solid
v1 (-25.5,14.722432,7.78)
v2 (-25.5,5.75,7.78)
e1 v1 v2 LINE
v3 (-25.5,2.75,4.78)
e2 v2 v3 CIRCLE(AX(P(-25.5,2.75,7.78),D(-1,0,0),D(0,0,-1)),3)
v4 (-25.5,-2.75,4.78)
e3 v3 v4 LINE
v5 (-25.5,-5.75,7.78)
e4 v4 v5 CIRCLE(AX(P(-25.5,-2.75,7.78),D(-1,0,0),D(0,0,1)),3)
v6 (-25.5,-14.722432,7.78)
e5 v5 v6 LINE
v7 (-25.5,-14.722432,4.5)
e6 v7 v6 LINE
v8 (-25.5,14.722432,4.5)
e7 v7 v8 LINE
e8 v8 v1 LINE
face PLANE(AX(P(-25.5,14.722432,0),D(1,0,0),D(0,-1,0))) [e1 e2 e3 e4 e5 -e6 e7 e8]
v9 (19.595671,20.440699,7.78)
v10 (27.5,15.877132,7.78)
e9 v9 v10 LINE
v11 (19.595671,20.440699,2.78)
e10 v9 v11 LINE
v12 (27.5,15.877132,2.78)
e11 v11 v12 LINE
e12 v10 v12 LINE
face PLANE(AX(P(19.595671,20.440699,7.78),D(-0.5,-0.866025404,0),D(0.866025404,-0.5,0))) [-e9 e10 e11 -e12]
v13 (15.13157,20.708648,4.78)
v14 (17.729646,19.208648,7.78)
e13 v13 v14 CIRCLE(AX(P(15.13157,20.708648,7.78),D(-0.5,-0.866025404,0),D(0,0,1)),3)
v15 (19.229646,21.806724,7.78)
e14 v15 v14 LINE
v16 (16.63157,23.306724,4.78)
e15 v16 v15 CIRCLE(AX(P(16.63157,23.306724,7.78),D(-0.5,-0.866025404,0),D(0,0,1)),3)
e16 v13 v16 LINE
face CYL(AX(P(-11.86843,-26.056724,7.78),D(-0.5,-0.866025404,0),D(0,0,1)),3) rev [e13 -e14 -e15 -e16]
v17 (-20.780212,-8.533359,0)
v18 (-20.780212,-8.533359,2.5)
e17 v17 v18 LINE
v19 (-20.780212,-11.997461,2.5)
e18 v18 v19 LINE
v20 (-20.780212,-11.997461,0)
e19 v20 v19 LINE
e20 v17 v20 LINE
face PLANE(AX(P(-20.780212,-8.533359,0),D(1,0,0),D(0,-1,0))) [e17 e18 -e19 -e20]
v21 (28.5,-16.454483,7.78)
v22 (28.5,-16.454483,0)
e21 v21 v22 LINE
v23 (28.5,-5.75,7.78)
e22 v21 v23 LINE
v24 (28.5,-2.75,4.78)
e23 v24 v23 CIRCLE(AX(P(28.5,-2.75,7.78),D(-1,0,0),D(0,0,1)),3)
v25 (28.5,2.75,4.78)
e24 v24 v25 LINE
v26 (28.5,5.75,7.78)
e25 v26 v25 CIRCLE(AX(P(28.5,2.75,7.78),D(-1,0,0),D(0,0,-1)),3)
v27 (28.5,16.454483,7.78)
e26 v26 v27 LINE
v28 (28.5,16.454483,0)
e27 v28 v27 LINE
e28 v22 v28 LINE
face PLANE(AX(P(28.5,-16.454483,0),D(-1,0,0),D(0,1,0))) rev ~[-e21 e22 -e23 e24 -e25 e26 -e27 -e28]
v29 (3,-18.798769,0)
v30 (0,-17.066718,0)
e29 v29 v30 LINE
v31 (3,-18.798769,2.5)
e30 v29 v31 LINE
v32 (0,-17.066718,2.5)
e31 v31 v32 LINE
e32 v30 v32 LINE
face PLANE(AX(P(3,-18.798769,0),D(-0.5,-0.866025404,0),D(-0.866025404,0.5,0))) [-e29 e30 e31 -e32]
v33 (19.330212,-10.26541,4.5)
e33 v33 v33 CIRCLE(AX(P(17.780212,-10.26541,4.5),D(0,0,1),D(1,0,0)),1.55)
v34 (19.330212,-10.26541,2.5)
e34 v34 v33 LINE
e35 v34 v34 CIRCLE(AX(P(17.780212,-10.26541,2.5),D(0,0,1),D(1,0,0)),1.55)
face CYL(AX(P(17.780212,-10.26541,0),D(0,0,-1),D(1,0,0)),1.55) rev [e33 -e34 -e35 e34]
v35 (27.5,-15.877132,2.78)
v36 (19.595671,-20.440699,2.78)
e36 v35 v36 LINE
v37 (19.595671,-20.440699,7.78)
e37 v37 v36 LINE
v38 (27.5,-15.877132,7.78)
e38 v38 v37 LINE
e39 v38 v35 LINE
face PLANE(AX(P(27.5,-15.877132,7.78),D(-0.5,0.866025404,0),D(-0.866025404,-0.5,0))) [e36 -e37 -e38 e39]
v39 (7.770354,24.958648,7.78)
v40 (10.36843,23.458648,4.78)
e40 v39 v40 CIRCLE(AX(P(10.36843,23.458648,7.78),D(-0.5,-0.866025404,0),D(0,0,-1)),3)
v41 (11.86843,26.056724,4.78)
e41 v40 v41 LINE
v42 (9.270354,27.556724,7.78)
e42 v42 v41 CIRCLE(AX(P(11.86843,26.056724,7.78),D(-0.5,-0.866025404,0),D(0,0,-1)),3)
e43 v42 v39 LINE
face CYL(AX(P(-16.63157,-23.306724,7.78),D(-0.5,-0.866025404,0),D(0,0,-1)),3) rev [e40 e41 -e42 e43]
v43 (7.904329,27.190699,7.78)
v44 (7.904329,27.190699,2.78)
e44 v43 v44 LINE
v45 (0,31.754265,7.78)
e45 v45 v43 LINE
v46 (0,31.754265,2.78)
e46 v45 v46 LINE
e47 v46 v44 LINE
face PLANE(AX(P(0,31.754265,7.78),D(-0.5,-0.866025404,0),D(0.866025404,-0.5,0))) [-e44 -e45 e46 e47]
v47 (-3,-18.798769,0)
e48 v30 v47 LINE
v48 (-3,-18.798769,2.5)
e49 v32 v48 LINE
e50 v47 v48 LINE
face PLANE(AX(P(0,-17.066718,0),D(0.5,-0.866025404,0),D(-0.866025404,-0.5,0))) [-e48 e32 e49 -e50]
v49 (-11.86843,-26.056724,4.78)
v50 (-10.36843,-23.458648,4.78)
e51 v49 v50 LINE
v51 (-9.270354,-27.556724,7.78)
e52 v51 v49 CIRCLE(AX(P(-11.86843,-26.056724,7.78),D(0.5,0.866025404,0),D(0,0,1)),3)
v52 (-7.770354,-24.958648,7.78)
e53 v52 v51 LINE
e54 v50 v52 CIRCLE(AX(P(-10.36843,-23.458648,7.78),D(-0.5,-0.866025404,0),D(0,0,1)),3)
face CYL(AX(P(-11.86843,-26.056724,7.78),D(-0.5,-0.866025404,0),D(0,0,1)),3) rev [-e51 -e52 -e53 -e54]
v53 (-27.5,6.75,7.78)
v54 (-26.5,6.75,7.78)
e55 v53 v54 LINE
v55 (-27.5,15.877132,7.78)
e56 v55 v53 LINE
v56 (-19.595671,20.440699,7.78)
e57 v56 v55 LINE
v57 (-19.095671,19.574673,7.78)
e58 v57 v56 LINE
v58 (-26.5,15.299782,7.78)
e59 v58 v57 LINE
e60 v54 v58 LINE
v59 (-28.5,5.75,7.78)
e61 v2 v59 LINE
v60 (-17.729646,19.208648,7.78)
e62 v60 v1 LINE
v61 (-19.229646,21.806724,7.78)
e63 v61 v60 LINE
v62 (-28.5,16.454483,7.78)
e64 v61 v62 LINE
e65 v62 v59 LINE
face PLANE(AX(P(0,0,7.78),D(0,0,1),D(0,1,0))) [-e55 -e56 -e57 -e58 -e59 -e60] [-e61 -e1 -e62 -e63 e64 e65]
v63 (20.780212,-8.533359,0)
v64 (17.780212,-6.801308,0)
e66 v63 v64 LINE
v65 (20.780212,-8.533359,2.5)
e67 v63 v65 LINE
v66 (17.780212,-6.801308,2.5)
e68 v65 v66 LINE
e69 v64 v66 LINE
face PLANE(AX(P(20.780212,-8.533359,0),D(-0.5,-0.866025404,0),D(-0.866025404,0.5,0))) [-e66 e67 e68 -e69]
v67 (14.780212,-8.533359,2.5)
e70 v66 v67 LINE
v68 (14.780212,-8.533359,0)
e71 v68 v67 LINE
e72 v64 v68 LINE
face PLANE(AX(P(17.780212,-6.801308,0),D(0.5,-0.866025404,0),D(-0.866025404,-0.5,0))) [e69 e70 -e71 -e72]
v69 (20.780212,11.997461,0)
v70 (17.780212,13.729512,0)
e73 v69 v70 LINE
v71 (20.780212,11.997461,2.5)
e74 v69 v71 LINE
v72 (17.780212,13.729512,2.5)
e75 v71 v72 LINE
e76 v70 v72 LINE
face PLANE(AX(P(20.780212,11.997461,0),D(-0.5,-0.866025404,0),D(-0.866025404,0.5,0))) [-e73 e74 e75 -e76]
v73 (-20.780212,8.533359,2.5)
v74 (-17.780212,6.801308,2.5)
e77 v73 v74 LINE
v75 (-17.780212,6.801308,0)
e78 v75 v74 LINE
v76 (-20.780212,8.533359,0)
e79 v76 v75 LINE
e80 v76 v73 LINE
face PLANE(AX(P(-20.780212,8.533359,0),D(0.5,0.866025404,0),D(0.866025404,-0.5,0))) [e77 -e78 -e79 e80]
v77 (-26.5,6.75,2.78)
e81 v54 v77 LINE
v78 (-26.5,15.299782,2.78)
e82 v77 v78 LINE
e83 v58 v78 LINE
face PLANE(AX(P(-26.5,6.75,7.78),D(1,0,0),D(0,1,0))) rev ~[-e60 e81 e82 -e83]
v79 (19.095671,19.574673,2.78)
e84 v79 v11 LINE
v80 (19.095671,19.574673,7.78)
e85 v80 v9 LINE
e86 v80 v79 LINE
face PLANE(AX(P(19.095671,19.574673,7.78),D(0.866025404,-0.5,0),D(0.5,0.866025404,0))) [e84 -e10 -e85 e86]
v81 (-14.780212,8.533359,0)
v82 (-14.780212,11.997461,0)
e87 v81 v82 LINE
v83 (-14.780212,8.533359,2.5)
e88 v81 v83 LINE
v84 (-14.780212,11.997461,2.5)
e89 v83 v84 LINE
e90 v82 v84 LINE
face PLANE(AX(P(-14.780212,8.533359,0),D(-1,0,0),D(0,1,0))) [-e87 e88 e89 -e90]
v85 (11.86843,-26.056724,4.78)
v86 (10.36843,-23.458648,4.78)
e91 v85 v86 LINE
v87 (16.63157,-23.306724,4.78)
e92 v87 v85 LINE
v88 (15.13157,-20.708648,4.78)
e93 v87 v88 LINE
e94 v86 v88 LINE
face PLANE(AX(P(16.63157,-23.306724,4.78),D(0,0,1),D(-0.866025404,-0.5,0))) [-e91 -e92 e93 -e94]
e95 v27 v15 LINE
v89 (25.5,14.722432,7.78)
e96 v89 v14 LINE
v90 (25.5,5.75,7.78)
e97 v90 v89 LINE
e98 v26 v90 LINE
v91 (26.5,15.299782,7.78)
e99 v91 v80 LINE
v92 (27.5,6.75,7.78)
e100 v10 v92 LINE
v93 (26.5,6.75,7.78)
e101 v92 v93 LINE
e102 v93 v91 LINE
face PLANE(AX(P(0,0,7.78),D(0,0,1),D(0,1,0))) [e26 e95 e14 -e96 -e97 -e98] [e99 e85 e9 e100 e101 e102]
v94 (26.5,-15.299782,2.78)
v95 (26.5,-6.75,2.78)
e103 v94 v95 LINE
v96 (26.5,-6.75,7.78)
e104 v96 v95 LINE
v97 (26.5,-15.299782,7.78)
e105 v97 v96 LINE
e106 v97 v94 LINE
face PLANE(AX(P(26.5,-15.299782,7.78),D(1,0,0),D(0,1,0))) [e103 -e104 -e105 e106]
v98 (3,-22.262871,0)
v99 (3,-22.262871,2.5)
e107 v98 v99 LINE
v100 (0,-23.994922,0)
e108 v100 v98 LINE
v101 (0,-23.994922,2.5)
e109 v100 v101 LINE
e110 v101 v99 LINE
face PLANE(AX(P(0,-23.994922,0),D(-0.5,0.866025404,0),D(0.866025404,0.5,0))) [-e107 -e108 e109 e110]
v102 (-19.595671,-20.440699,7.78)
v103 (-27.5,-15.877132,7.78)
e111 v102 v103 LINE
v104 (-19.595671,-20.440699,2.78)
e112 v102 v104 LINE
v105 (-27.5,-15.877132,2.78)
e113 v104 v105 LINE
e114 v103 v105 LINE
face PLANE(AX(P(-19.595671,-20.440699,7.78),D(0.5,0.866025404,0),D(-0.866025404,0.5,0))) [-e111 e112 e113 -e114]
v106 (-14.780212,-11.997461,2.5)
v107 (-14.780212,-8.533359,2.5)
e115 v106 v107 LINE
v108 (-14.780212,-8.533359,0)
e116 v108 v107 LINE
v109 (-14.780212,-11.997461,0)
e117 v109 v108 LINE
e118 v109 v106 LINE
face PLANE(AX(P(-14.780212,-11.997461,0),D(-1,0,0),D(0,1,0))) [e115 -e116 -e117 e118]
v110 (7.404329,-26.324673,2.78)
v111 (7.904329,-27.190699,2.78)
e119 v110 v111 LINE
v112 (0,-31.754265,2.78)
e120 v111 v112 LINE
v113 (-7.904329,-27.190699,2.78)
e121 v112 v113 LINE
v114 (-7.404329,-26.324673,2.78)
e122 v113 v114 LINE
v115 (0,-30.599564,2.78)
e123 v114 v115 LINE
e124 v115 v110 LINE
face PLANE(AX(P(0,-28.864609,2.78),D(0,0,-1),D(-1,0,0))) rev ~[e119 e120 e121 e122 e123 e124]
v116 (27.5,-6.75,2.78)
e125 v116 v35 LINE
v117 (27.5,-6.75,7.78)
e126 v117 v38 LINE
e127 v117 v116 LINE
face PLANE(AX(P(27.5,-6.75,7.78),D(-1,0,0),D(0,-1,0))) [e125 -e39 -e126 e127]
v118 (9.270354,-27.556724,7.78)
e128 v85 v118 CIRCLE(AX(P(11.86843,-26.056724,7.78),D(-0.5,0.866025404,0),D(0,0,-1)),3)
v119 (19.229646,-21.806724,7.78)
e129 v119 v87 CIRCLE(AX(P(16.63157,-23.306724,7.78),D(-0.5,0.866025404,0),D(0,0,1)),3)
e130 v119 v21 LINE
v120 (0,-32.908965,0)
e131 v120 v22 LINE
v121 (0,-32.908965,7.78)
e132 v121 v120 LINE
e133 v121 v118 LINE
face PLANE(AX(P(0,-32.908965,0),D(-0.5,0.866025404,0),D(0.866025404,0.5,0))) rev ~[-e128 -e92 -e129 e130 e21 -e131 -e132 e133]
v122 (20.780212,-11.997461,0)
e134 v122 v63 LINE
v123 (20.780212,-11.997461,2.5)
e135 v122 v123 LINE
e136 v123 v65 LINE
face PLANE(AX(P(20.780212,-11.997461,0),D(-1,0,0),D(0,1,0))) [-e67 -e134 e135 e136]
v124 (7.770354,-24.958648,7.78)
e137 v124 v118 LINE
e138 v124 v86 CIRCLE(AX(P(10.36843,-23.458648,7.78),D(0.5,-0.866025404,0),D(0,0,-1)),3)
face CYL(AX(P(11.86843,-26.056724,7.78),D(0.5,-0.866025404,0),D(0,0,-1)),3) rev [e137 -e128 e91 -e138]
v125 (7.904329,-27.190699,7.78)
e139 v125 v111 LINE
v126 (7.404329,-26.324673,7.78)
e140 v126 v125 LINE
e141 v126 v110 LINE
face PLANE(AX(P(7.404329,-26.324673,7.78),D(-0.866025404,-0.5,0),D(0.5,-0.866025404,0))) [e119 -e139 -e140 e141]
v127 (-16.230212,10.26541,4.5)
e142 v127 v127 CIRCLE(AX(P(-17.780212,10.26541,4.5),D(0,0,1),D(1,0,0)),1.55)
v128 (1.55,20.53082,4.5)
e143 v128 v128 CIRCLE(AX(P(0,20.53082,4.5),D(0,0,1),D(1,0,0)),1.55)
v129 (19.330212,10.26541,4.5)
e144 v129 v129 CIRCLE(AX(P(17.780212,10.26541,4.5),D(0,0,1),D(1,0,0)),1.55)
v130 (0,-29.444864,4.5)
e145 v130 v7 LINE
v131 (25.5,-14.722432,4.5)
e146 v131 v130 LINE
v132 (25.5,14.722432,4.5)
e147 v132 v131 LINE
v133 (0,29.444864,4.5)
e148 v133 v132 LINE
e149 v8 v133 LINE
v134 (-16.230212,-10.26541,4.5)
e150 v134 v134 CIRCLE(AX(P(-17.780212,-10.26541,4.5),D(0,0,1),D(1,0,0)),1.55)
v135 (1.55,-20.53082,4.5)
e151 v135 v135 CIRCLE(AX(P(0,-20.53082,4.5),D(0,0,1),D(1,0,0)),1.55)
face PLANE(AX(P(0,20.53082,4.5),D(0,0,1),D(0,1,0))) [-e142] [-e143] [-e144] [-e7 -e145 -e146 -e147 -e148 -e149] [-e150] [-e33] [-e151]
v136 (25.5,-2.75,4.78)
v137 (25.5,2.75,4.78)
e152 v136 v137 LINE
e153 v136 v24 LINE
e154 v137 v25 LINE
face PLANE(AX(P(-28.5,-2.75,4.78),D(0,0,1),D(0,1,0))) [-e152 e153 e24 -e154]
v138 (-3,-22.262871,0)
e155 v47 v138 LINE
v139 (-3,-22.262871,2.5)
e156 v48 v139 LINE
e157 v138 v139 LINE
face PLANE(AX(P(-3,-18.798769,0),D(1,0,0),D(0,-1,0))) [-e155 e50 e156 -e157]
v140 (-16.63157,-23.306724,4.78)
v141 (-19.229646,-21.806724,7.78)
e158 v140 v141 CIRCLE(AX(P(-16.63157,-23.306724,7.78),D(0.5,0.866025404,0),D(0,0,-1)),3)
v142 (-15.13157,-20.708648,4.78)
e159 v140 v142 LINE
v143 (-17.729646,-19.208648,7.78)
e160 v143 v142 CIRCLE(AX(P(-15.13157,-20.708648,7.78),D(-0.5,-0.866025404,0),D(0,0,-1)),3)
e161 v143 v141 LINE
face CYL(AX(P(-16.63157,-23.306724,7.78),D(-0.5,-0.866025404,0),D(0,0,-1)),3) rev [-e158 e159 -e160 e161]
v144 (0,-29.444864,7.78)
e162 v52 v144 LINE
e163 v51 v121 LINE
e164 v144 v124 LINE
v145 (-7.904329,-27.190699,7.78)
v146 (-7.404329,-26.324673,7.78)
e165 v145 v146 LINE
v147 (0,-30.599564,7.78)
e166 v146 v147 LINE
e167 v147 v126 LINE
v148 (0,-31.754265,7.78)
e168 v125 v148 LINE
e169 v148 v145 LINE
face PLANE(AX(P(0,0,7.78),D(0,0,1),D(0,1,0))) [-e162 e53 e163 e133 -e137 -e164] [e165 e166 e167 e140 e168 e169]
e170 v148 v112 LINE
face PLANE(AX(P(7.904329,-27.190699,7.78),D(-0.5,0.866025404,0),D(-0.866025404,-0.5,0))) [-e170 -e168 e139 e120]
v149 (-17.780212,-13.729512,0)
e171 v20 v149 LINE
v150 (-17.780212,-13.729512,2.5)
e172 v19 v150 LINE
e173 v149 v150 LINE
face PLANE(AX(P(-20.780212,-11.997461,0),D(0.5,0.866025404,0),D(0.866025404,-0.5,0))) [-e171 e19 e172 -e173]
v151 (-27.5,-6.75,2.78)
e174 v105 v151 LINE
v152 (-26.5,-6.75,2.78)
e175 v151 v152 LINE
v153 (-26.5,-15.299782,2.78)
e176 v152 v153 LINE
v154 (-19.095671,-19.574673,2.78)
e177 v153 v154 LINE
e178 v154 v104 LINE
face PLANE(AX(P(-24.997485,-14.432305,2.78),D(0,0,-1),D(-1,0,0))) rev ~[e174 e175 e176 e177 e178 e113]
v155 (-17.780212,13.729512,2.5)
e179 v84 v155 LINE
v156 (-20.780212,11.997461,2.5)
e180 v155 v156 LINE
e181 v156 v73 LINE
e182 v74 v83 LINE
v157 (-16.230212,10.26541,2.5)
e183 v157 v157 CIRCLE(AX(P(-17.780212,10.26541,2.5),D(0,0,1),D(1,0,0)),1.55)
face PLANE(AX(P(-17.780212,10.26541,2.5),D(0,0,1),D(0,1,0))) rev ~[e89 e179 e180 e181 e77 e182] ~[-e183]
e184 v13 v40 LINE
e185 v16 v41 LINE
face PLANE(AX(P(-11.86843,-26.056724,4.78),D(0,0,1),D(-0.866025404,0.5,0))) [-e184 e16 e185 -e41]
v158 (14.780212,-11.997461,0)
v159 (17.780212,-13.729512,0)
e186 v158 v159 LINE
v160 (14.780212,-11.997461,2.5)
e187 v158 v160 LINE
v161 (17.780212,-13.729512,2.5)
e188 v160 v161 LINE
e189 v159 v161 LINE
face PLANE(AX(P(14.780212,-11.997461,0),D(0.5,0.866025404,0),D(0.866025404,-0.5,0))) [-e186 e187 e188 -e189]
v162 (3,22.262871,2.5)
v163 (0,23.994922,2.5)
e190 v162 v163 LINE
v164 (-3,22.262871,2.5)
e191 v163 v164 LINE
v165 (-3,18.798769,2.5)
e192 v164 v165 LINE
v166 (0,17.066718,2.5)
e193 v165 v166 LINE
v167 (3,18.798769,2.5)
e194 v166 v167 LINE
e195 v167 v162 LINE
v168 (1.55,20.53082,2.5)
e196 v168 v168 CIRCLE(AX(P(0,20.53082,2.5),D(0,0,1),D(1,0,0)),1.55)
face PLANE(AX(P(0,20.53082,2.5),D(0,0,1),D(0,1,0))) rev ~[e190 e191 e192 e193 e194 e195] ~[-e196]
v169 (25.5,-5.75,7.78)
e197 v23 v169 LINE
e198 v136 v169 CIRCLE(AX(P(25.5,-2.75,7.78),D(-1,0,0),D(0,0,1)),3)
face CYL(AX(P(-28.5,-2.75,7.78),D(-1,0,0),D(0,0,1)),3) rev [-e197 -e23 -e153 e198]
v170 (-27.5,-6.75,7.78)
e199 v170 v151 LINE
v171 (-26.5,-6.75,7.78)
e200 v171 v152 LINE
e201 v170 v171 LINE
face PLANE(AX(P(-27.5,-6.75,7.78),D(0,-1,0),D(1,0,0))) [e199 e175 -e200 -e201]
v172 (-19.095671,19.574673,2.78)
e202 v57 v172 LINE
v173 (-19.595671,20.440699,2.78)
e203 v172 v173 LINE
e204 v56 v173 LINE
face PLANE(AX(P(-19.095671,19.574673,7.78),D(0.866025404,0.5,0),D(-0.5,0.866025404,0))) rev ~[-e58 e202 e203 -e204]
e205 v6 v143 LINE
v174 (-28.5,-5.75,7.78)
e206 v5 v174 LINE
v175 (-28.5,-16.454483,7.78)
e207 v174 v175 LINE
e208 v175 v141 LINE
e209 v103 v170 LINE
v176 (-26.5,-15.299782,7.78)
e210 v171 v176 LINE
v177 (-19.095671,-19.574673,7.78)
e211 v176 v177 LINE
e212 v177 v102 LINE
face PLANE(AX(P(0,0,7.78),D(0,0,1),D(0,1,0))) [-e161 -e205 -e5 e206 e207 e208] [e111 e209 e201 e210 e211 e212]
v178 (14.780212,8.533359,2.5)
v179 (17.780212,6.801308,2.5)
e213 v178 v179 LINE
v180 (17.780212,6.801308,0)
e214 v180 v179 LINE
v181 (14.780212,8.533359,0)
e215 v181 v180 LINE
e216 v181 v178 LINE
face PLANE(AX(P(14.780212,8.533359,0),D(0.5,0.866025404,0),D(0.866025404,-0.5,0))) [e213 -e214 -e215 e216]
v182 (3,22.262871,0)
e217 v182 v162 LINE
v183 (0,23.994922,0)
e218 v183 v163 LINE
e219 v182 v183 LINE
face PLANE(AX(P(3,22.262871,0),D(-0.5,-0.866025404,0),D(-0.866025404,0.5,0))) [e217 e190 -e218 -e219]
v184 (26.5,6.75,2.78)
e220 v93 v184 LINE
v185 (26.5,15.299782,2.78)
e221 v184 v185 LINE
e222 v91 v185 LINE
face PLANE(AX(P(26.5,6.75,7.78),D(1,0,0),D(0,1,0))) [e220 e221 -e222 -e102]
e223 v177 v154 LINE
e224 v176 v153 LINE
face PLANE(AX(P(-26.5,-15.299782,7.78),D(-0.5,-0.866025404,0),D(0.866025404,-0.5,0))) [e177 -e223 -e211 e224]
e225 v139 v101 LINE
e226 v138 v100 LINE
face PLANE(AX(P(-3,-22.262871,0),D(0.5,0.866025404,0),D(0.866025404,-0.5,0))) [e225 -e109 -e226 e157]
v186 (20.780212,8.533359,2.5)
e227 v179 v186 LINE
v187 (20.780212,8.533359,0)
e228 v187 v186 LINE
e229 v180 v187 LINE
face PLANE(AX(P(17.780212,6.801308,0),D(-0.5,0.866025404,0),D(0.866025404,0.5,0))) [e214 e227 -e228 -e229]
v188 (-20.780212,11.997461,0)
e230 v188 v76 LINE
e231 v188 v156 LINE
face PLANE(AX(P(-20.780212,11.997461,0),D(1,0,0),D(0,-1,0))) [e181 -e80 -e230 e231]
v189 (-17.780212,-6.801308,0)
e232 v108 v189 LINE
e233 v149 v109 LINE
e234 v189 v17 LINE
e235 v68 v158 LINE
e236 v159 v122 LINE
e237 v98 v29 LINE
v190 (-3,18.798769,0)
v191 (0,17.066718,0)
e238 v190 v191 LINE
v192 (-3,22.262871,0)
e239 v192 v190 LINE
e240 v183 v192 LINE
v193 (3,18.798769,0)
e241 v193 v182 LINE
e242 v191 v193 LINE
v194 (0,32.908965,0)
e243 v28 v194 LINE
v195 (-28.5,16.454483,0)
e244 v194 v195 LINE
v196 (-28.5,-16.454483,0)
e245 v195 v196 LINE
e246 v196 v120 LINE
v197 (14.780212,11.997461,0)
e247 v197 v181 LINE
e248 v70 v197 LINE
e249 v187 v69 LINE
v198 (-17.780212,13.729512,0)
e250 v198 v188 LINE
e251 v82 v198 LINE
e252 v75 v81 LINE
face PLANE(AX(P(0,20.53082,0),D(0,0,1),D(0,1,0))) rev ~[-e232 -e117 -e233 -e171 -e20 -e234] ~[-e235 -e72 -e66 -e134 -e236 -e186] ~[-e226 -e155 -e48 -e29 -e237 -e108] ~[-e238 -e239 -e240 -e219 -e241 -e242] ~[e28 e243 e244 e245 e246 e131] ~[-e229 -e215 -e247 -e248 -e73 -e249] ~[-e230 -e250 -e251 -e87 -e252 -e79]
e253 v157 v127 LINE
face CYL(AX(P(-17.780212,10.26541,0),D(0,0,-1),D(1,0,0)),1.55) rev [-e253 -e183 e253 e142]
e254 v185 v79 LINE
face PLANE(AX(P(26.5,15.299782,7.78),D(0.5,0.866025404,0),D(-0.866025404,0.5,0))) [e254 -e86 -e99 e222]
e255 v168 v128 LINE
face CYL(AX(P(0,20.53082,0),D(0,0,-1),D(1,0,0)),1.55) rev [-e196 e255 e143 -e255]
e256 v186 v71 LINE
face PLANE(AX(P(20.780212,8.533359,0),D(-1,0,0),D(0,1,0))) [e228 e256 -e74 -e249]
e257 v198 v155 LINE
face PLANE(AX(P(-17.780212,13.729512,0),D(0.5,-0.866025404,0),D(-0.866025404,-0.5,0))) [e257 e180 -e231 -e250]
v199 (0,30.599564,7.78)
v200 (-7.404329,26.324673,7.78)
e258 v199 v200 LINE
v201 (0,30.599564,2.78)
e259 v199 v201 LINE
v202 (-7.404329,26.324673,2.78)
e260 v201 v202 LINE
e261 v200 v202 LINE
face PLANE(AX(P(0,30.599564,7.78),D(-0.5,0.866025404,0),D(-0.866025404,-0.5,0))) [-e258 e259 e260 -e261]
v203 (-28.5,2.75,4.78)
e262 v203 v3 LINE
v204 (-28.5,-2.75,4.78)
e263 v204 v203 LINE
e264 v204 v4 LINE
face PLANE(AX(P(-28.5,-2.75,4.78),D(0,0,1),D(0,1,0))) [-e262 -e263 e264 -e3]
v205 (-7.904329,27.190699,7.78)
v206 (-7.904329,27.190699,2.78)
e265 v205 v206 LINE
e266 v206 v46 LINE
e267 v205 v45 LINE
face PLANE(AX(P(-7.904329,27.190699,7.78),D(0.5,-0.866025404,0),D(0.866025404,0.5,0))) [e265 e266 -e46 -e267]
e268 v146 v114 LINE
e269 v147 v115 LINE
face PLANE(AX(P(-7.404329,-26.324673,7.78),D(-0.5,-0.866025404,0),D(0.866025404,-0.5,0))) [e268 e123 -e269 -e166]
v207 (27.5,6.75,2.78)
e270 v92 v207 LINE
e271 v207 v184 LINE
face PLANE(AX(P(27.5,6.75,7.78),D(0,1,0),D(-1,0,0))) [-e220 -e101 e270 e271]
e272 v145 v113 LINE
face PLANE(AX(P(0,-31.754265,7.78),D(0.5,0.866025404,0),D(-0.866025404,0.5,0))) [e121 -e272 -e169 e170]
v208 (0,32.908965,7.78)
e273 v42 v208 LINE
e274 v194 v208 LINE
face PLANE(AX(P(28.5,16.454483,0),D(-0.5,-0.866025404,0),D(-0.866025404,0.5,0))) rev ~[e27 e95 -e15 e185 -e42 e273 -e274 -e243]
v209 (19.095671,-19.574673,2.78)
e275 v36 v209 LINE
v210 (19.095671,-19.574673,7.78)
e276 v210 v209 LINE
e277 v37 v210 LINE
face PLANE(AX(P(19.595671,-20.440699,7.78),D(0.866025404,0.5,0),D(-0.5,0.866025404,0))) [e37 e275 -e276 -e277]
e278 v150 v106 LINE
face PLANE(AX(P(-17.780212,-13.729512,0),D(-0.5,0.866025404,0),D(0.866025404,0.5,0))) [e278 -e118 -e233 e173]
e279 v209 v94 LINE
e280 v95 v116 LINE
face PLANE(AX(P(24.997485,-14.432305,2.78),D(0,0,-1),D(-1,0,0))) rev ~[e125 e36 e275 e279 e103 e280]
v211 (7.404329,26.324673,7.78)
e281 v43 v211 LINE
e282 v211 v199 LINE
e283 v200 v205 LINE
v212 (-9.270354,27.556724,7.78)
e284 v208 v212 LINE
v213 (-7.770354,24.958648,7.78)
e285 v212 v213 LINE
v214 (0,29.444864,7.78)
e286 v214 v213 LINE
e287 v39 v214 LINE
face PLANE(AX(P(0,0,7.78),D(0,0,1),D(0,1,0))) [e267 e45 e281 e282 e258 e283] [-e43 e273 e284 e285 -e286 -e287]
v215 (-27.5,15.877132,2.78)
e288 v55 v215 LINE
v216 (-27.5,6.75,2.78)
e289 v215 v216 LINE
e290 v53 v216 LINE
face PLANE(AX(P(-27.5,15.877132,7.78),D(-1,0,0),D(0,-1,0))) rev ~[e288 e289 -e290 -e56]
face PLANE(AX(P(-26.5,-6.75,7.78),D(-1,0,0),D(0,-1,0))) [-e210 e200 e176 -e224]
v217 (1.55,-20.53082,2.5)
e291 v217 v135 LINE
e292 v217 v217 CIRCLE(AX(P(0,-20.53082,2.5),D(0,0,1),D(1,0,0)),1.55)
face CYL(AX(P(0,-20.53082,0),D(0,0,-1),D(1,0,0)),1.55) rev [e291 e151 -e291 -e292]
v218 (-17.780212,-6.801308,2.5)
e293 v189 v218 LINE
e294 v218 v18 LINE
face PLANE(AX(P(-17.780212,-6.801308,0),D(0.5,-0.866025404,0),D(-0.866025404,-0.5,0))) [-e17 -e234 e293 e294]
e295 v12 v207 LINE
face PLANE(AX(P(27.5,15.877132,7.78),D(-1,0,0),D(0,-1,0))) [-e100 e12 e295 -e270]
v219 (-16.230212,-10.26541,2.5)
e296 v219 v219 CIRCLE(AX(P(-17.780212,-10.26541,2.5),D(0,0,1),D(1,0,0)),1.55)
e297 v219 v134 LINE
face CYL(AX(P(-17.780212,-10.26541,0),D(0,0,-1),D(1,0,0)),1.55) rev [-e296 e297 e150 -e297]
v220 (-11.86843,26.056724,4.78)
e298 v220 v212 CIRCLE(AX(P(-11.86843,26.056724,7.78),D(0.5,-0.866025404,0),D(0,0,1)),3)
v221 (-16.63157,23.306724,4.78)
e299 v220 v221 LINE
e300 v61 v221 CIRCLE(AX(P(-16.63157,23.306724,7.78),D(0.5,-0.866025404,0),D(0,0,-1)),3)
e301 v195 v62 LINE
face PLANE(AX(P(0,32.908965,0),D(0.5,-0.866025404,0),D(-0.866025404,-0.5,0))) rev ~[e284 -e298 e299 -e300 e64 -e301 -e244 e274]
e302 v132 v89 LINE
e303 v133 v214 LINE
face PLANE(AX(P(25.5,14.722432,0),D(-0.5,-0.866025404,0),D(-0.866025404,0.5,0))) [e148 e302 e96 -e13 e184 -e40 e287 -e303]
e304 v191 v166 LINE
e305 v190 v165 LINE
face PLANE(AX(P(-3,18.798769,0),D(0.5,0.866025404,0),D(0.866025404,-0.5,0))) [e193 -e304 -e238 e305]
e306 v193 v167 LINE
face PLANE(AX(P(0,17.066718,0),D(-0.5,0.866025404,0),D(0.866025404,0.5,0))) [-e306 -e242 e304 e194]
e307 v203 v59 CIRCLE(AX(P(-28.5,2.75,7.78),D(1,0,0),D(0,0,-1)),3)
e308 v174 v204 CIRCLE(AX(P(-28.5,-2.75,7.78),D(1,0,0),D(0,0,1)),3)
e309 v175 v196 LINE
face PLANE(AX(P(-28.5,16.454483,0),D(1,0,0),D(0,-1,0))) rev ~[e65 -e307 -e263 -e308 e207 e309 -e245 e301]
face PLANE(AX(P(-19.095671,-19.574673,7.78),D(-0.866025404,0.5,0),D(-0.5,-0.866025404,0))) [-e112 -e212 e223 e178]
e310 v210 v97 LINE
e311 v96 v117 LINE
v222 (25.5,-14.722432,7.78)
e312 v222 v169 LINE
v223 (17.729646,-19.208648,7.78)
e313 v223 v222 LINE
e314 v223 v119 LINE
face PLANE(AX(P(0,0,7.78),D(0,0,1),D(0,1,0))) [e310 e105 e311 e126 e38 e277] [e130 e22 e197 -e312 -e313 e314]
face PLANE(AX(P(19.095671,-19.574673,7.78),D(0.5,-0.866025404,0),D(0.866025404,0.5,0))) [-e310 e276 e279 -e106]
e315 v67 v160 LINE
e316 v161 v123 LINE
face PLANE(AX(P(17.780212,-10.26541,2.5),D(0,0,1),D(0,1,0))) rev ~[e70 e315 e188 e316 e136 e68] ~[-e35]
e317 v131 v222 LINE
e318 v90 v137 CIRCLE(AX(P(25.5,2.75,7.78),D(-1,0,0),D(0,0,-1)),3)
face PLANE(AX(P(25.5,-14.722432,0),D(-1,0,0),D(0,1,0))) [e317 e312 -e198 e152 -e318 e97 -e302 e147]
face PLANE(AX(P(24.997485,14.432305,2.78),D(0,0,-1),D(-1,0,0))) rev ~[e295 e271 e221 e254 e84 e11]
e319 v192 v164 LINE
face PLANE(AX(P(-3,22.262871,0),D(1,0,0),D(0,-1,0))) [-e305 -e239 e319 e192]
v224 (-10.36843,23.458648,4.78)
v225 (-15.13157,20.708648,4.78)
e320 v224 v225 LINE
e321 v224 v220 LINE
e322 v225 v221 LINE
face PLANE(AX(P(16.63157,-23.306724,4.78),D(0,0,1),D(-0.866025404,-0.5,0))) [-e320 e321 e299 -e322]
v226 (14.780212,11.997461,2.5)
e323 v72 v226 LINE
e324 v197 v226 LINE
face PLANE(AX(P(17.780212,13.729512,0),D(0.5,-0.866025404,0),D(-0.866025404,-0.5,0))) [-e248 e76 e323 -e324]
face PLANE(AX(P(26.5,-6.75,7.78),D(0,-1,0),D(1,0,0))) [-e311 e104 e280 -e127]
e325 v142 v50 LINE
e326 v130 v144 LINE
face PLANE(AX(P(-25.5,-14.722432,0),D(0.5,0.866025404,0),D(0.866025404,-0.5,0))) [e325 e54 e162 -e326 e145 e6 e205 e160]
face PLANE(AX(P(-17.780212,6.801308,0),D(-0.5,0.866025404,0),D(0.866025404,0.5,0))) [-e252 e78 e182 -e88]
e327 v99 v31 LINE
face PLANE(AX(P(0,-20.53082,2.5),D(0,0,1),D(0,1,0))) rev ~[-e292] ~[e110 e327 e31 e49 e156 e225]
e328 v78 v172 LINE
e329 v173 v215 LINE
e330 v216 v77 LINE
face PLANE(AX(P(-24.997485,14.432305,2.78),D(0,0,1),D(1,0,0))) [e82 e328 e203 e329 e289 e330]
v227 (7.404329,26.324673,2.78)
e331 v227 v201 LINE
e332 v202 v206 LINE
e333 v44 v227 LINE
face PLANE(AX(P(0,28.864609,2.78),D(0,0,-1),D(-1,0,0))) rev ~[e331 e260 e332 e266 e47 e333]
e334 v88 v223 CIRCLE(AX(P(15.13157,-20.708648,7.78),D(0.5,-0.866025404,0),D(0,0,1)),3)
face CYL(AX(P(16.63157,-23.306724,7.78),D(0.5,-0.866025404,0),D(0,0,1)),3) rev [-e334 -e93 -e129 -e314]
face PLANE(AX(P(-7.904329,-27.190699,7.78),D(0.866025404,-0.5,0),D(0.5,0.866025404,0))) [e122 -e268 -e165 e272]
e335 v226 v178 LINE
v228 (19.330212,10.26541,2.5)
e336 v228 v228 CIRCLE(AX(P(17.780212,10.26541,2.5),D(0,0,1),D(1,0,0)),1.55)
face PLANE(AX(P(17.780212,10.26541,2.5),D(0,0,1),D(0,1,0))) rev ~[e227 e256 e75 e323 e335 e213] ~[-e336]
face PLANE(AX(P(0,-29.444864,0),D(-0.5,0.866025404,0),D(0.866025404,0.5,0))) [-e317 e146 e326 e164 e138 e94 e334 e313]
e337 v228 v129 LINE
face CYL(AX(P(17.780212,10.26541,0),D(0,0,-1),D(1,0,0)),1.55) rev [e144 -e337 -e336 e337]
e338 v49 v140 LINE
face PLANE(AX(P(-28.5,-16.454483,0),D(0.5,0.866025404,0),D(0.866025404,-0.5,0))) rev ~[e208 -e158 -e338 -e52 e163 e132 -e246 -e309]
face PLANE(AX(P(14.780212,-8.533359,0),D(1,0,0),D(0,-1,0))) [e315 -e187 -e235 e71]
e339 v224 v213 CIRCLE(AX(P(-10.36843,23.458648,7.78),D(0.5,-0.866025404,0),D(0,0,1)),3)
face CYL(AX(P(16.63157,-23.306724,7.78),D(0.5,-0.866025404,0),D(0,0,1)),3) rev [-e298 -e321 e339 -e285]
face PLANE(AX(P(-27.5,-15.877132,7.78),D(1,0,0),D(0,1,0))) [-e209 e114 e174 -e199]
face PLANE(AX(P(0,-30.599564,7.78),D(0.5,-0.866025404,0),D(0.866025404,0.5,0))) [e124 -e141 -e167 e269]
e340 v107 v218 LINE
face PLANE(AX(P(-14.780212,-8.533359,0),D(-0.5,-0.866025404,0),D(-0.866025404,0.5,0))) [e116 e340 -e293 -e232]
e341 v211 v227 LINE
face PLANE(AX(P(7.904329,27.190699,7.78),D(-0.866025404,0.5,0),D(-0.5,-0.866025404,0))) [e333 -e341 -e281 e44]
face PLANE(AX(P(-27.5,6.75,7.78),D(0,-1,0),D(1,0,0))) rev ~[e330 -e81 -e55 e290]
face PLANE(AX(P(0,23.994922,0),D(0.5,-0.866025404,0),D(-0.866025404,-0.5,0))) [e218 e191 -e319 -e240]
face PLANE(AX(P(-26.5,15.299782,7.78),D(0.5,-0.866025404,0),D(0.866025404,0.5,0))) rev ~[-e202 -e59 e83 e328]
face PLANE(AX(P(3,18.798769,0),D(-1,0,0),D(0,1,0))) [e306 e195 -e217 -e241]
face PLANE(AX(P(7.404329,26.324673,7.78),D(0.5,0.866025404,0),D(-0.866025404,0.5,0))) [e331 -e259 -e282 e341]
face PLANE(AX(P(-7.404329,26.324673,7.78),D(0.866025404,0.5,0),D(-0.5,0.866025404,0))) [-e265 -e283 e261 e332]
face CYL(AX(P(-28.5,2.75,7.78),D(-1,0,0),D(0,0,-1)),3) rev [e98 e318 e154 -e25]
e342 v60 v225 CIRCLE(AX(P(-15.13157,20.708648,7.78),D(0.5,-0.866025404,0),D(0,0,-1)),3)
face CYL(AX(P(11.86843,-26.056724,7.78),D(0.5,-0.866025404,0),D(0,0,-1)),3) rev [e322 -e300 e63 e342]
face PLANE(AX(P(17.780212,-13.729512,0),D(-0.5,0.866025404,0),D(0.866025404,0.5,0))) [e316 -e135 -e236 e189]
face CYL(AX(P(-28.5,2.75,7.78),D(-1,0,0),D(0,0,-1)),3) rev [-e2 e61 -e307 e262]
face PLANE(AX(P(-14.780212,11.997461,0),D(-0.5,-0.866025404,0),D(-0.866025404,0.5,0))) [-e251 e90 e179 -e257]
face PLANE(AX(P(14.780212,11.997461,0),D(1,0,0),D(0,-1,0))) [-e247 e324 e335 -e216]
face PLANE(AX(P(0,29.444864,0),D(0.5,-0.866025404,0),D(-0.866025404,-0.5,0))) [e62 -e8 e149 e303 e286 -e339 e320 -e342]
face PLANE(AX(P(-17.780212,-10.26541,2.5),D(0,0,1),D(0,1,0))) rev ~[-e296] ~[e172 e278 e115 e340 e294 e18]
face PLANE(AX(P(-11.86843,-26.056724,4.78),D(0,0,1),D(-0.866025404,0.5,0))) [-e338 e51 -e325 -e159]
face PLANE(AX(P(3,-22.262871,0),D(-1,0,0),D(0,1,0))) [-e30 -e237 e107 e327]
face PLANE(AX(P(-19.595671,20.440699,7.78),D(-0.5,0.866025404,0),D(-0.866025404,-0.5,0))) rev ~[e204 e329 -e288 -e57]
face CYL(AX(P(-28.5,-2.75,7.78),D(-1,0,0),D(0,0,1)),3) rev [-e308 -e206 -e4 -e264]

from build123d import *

# Parameters (mm, degrees)
SKETCH1_R           = 1.55
BOSS_EXTRUDE1_DEPTH = 4.5
SKETCH1_4_R         = 1.55
CUT_EXTRUDE1_DEPTH  = 2.5
BOSS_EXTRUDE2_DEPTH = 7.78
CUT_EXTRUDE2_REACH  = 68.276
CUT_EXTRUDE3_REACH  = 74.144
CUT_EXTRUDE4_REACH  = 74.144
CUT_EXTRUDE5_DEPTH  = 5


with BuildPart() as part:
    # Sketch1 → Boss-Extrude1 (new body)
    # profile 1 of 8: a face of its own
    with BuildSketch(Plane(origin=(0, 0, 0), x_dir=(0, 1, 0), z_dir=(0, 0, 1))):
        Polygon((-16.454482672, -28.5), (16.454482672, -28.5), (32.908965344, 0), (16.454482672, 28.5), (-16.454482672, 28.5), (-32.908965344, 0), align=None)
        Polygon((14.722431864, -25.5), (29.444863729, 0), (14.722431864, 25.5), (-14.722431864, 25.5), (-29.444863729, 0), (-14.722431864, -25.5), align=None, mode=Mode.SUBTRACT)
    # profile 2 of 8: a face of its own
    with BuildSketch(Plane(origin=(0, 0, 0), x_dir=(0, 1, 0), z_dir=(0, 0, 1))):
        Polygon((-14.722431864, -25.5), (14.722431864, -25.5), (29.444863729, 0), (14.722431864, 25.5), (-14.722431864, 25.5), (-29.444863729, 0), align=None)
        Polygon((-18.798769192, -3), (-17.066718385, 0), (-18.798769192, 3), (-22.262870808, 3), (-23.994921615, 0), (-22.262870808, -3), align=None, mode=Mode.SUBTRACT)
        Polygon((-8.533359192, -20.780211681), (-6.801308385, -17.780211681), (-8.533359192, -14.780211681), (-11.997460808, -14.780211681), (-13.729511615, -17.780211681), (-11.997460808, -20.780211681), align=None, mode=Mode.SUBTRACT)
        Polygon((11.997460808, -20.780211681), (13.729511615, -17.780211681), (11.997460808, -14.780211681), (8.533359192, -14.780211681), (6.801308385, -17.780211681), (8.533359192, -20.780211681), align=None, mode=Mode.SUBTRACT)
        Polygon((22.262870808, -3), (23.994921615, 0), (22.262870808, 3), (18.798769192, 3), (17.066718385, 0), (18.798769192, -3), align=None, mode=Mode.SUBTRACT)
        Polygon((11.997460808, 14.780211681), (13.729511615, 17.780211681), (11.997460808, 20.780211681), (8.533359192, 20.780211681), (6.801308385, 17.780211681), (8.533359192, 14.780211681), align=None, mode=Mode.SUBTRACT)
        Polygon((-8.533359192, 14.780211681), (-6.801308385, 17.780211681), (-8.533359192, 20.780211681), (-11.997460808, 20.780211681), (-13.729511615, 17.780211681), (-11.997460808, 14.780211681), align=None, mode=Mode.SUBTRACT)
    # profile 3 of 8: a face of its own
    with BuildSketch(Plane(origin=(0, 0, 0), x_dir=(0, 1, 0), z_dir=(0, 0, 1))):
        Polygon((8.533359192, -20.780211681), (11.997460808, -20.780211681), (13.729511615, -17.780211681), (11.997460808, -14.780211681), (8.533359192, -14.780211681), (6.801308385, -17.780211681), align=None)
        with Locations(Location((10.26541, -17.780211681, 0), (0, 0, 270))):
            Circle(SKETCH1_R, mode=Mode.SUBTRACT)
    # profile 4 of 8: a face of its own
    with BuildSketch(Plane(origin=(0, 0, 0), x_dir=(0, 1, 0), z_dir=(0, 0, 1))):
        Polygon((-11.997460808, -20.780211681), (-8.533359192, -20.780211681), (-6.801308385, -17.780211681), (-8.533359192, -14.780211681), (-11.997460808, -14.780211681), (-13.729511615, -17.780211681), align=None)
        with Locations(Location((-10.26541, -17.780211681, 0), (0, 0, 270))):
            Circle(SKETCH1_R, mode=Mode.SUBTRACT)
    # profile 5 of 8: a face of its own
    with BuildSketch(Plane(origin=(0, 0, 0), x_dir=(0, 1, 0), z_dir=(0, 0, 1))):
        Polygon((-22.262870808, -3), (-18.798769192, -3), (-17.066718385, 0), (-18.798769192, 3), (-22.262870808, 3), (-23.994921615, 0), align=None)
        with Locations(Location((-20.53082, 0, 0), (0, 0, 270))):
            Circle(SKETCH1_R, mode=Mode.SUBTRACT)
    # profile 6 of 8: a face of its own
    with BuildSketch(Plane(origin=(0, 0, 0), x_dir=(0, 1, 0), z_dir=(0, 0, 1))):
        Polygon((-11.997460808, 14.780211681), (-8.533359192, 14.780211681), (-6.801308385, 17.780211681), (-8.533359192, 20.780211681), (-11.997460808, 20.780211681), (-13.729511615, 17.780211681), align=None)
        with Locations(Location((-10.26541, 17.780211681, 0), (0, 0, 270))):
            Circle(SKETCH1_R, mode=Mode.SUBTRACT)
    # profile 7 of 8: a face of its own
    with BuildSketch(Plane(origin=(0, 0, 0), x_dir=(0, 1, 0), z_dir=(0, 0, 1))):
        Polygon((8.533359192, 14.780211681), (11.997460808, 14.780211681), (13.729511615, 17.780211681), (11.997460808, 20.780211681), (8.533359192, 20.780211681), (6.801308385, 17.780211681), align=None)
        with Locations(Location((10.26541, 17.780211681, 0), (0, 0, 270))):
            Circle(SKETCH1_R, mode=Mode.SUBTRACT)
    # profile 8 of 8: a face of its own
    with BuildSketch(Plane(origin=(0, 0, 0), x_dir=(0, 1, 0), z_dir=(0, 0, 1))):
        Polygon((18.798769192, -3), (22.262870808, -3), (23.994921615, 0), (22.262870808, 3), (18.798769192, 3), (17.066718385, 0), align=None)
        with Locations(Location((20.53082, 0, 0), (0, 0, 270))):
            Circle(SKETCH1_R, mode=Mode.SUBTRACT)
    extrude(amount=BOSS_EXTRUDE1_DEPTH)

    # Sketch1<4> → Cut-Extrude1 (cut)
    # profile 1 of 6: a face of its own
    with BuildSketch(Plane(origin=(0, 0, 0), x_dir=(0, 1, 0), z_dir=(0, 0, 1))):
        Polygon((-11.997460808, 14.780211681), (-8.533359192, 14.780211681), (-6.801308385, 17.780211681), (-8.533359192, 20.780211681), (-11.997460808, 20.780211681), (-13.729511615, 17.780211681), align=None)
        with Locations(Location((-10.26541, 17.780211681, 0), (0, 0, 270))):
            Circle(SKETCH1_4_R, mode=Mode.SUBTRACT)
    # profile 2 of 6: a face of its own
    with BuildSketch(Plane(origin=(0, 0, 0), x_dir=(0, 1, 0), z_dir=(0, 0, 1))):
        Polygon((-22.262870808, -3), (-18.798769192, -3), (-17.066718385, 0), (-18.798769192, 3), (-22.262870808, 3), (-23.994921615, 0), align=None)
        with Locations(Location((-20.53082, 0, 0), (0, 0, 270))):
            Circle(SKETCH1_4_R, mode=Mode.SUBTRACT)
    # profile 3 of 6: a face of its own
    with BuildSketch(Plane(origin=(0, 0, 0), x_dir=(0, 1, 0), z_dir=(0, 0, 1))):
        Polygon((-11.997460808, -20.780211681), (-8.533359192, -20.780211681), (-6.801308385, -17.780211681), (-8.533359192, -14.780211681), (-11.997460808, -14.780211681), (-13.729511615, -17.780211681), align=None)
        with Locations(Location((-10.26541, -17.780211681, 0), (0, 0, 270))):
            Circle(SKETCH1_4_R, mode=Mode.SUBTRACT)
    # profile 4 of 6: a face of its own
    with BuildSketch(Plane(origin=(0, 0, 0), x_dir=(0, 1, 0), z_dir=(0, 0, 1))):
        Polygon((8.533359192, -20.780211681), (11.997460808, -20.780211681), (13.729511615, -17.780211681), (11.997460808, -14.780211681), (8.533359192, -14.780211681), (6.801308385, -17.780211681), align=None)
        with Locations(Location((10.26541, -17.780211681, 0), (0, 0, 270))):
            Circle(SKETCH1_4_R, mode=Mode.SUBTRACT)
    # profile 5 of 6: a face of its own
    with BuildSketch(Plane(origin=(0, 0, 0), x_dir=(0, 1, 0), z_dir=(0, 0, 1))):
        Polygon((18.798769192, -3), (22.262870808, -3), (23.994921615, 0), (22.262870808, 3), (18.798769192, 3), (17.066718385, 0), align=None)
        with Locations(Location((20.53082, 0, 0), (0, 0, 270))):
            Circle(SKETCH1_4_R, mode=Mode.SUBTRACT)
    # profile 6 of 6: a face of its own
    with BuildSketch(Plane(origin=(0, 0, 0), x_dir=(0, 1, 0), z_dir=(0, 0, 1))):
        Polygon((8.533359192, 14.780211681), (11.997460808, 14.780211681), (13.729511615, 17.780211681), (11.997460808, 20.780211681), (8.533359192, 20.780211681), (6.801308385, 17.780211681), align=None)
        with Locations(Location((10.26541, 17.780211681, 0), (0, 0, 270))):
            Circle(SKETCH1_4_R, mode=Mode.SUBTRACT)
    extrude(amount=CUT_EXTRUDE1_DEPTH, mode=Mode.SUBTRACT)

    # Sketch1<5> → Boss-Extrude2 (add)
    with BuildSketch(Plane(origin=(0, 0, 0), x_dir=(0, 1, 0), z_dir=(0, 0, 1))):
        Polygon((-16.454482672, -28.5), (16.454482672, -28.5), (32.908965344, 0), (16.454482672, 28.5), (-16.454482672, 28.5), (-32.908965344, 0), align=None)
        Polygon((14.722431864, -25.5), (29.444863729, 0), (14.722431864, 25.5), (-14.722431864, 25.5), (-29.444863729, 0), (-14.722431864, -25.5), align=None, mode=Mode.SUBTRACT)
    extrude(amount=BOSS_EXTRUDE2_DEPTH)

    # Cut-Extrude2: up to this face of the body (flat: up to its plane)
    cut_extrude2_end = Plane(part.part.faces().sort_by_distance((28.5, 0, 3.89))[0])
    # Sketch2 → Cut-Extrude2 (cut, up to the picked face)
    with BuildSketch(Plane(origin=(-28.5, 0, 0), x_dir=(0, -1, 0), z_dir=(-1, 0, 0)), mode=Mode.PRIVATE) as cut_extrude2_sk1:
        with BuildLine():
            Line((-2.75, 10.78), (2.75, 10.78))
            ThreePointArc((2.75, 10.78), (5.75, 7.78), (2.75, 4.78))
            Line((2.75, 4.78), (-2.75, 4.78))
            ThreePointArc((-2.75, 4.78), (-5.75, 7.78), (-2.75, 10.78))
        make_face()
    cut_extrude2_tool1 = split(extrude(cut_extrude2_sk1.sketch, amount=-CUT_EXTRUDE2_REACH, mode=Mode.PRIVATE), bisect_by=cut_extrude2_end, keep=Keep.BOTH, mode=Mode.PRIVATE)
    add(cut_extrude2_tool1.solids().sort_by(Axis((-28.5, 0, 7.78), (1, 0, 0)))[0], mode=Mode.SUBTRACT)

    # Cut-Extrude3: up to this face of the body (flat: up to its plane)
    cut_extrude3_end = Plane(part.part.faces().sort_by_distance((14.25, 24.681724008, 3.89))[0])
    # Sketch3 → Cut-Extrude3 (cut, up to the picked face)
    with BuildSketch(Plane(origin=(-14.25, -24.681724008, 0), x_dir=(0.8660254037844387, -0.49999999999999983, 0), z_dir=(-0.49999999999999983, -0.8660254037844387, 0)), mode=Mode.PRIVATE) as cut_extrude3_sk1:
        with BuildLine():
            Line((-2.75, 10.78), (2.75, 10.78))
            ThreePointArc((2.75, 10.78), (5.75, 7.78), (2.75, 4.78))
            Line((2.75, 4.78), (-2.75, 4.78))
            ThreePointArc((-2.75, 4.78), (-5.75, 7.78), (-2.75, 10.78))
        make_face()
    cut_extrude3_tool1 = split(extrude(cut_extrude3_sk1.sketch, amount=-CUT_EXTRUDE3_REACH, mode=Mode.PRIVATE), bisect_by=cut_extrude3_end, keep=Keep.BOTH, mode=Mode.PRIVATE)
    add(cut_extrude3_tool1.solids().sort_by(Axis((-14.25, -24.681724, 7.78), (0.49999999999999983, 0.8660254037844387, 0)))[0], mode=Mode.SUBTRACT)

    # Cut-Extrude4: up to this face of the body (flat: up to its plane)
    cut_extrude4_end = Plane(part.part.faces().sort_by_distance((-14.25, 24.681724008, 3.89))[0])
    # Sketch4 → Cut-Extrude4 (cut, up to the picked face)
    with BuildSketch(Plane(origin=(14.25, -24.681724008, 0), x_dir=(0.8660254037844385, 0.5000000000000004, 0), z_dir=(0.5000000000000003, -0.8660254037844384, 0)), mode=Mode.PRIVATE) as cut_extrude4_sk1:
        with BuildLine():
            Line((-2.75, 10.78), (2.75, 10.78))
            ThreePointArc((2.75, 10.78), (5.75, 7.78), (2.75, 4.78))
            Line((2.75, 4.78), (-2.75, 4.78))
            ThreePointArc((-2.75, 4.78), (-5.75, 7.78), (-2.75, 10.78))
        make_face()
    cut_extrude4_tool1 = split(extrude(cut_extrude4_sk1.sketch, amount=-CUT_EXTRUDE4_REACH, mode=Mode.PRIVATE), bisect_by=cut_extrude4_end, keep=Keep.BOTH, mode=Mode.PRIVATE)
    add(cut_extrude4_tool1.solids().sort_by(Axis((14.25, -24.681724, 7.78), (-0.5000000000000003, 0.8660254037844384, 0)))[0], mode=Mode.SUBTRACT)

    # Sketch7 → Cut-Extrude5 (cut)
    with BuildSketch(Plane.XY.offset(7.78)):
        Polygon((-26.5, -6.75), (-26.5, -15.299782134), (-19.095671476, -19.5746732), (-19.595671476, -20.440698604), (-27.5, -15.877132403), (-27.5, -6.75), align=None)
        Polygon((-27.5, 6.75), (-26.5, 6.75), (-26.5, 15.299782134), (-19.095671476, 19.5746732), (-19.595671476, 20.440698604), (-27.5, 15.877132403), align=None)
        Polygon((-7.404328524, -26.3246732), (0, -30.599564267), (7.404328524, -26.3246732), (7.904328524, -27.190698604), (0, -31.754264805), (-7.904328524, -27.190698604), align=None)
        Polygon((19.095671476, -19.5746732), (26.5, -15.299782134), (26.5, -6.75), (27.5, -6.75), (27.5, -15.877132403), (19.595671476, -20.440698604), align=None)
        Polygon((26.5, 6.75), (26.5, 15.299782134), (19.095671476, 19.5746732), (19.595671476, 20.440698604), (27.5, 15.877132403), (27.5, 6.75), align=None)
        Polygon((7.404328524, 26.3246732), (0, 30.599564267), (-7.404328524, 26.3246732), (-7.904328524, 27.190698604), (0, 31.754264805), (7.904328524, 27.190698604), align=None)
    extrude(amount=-CUT_EXTRUDE5_DEPTH, mode=Mode.SUBTRACT)


solid = part.part
